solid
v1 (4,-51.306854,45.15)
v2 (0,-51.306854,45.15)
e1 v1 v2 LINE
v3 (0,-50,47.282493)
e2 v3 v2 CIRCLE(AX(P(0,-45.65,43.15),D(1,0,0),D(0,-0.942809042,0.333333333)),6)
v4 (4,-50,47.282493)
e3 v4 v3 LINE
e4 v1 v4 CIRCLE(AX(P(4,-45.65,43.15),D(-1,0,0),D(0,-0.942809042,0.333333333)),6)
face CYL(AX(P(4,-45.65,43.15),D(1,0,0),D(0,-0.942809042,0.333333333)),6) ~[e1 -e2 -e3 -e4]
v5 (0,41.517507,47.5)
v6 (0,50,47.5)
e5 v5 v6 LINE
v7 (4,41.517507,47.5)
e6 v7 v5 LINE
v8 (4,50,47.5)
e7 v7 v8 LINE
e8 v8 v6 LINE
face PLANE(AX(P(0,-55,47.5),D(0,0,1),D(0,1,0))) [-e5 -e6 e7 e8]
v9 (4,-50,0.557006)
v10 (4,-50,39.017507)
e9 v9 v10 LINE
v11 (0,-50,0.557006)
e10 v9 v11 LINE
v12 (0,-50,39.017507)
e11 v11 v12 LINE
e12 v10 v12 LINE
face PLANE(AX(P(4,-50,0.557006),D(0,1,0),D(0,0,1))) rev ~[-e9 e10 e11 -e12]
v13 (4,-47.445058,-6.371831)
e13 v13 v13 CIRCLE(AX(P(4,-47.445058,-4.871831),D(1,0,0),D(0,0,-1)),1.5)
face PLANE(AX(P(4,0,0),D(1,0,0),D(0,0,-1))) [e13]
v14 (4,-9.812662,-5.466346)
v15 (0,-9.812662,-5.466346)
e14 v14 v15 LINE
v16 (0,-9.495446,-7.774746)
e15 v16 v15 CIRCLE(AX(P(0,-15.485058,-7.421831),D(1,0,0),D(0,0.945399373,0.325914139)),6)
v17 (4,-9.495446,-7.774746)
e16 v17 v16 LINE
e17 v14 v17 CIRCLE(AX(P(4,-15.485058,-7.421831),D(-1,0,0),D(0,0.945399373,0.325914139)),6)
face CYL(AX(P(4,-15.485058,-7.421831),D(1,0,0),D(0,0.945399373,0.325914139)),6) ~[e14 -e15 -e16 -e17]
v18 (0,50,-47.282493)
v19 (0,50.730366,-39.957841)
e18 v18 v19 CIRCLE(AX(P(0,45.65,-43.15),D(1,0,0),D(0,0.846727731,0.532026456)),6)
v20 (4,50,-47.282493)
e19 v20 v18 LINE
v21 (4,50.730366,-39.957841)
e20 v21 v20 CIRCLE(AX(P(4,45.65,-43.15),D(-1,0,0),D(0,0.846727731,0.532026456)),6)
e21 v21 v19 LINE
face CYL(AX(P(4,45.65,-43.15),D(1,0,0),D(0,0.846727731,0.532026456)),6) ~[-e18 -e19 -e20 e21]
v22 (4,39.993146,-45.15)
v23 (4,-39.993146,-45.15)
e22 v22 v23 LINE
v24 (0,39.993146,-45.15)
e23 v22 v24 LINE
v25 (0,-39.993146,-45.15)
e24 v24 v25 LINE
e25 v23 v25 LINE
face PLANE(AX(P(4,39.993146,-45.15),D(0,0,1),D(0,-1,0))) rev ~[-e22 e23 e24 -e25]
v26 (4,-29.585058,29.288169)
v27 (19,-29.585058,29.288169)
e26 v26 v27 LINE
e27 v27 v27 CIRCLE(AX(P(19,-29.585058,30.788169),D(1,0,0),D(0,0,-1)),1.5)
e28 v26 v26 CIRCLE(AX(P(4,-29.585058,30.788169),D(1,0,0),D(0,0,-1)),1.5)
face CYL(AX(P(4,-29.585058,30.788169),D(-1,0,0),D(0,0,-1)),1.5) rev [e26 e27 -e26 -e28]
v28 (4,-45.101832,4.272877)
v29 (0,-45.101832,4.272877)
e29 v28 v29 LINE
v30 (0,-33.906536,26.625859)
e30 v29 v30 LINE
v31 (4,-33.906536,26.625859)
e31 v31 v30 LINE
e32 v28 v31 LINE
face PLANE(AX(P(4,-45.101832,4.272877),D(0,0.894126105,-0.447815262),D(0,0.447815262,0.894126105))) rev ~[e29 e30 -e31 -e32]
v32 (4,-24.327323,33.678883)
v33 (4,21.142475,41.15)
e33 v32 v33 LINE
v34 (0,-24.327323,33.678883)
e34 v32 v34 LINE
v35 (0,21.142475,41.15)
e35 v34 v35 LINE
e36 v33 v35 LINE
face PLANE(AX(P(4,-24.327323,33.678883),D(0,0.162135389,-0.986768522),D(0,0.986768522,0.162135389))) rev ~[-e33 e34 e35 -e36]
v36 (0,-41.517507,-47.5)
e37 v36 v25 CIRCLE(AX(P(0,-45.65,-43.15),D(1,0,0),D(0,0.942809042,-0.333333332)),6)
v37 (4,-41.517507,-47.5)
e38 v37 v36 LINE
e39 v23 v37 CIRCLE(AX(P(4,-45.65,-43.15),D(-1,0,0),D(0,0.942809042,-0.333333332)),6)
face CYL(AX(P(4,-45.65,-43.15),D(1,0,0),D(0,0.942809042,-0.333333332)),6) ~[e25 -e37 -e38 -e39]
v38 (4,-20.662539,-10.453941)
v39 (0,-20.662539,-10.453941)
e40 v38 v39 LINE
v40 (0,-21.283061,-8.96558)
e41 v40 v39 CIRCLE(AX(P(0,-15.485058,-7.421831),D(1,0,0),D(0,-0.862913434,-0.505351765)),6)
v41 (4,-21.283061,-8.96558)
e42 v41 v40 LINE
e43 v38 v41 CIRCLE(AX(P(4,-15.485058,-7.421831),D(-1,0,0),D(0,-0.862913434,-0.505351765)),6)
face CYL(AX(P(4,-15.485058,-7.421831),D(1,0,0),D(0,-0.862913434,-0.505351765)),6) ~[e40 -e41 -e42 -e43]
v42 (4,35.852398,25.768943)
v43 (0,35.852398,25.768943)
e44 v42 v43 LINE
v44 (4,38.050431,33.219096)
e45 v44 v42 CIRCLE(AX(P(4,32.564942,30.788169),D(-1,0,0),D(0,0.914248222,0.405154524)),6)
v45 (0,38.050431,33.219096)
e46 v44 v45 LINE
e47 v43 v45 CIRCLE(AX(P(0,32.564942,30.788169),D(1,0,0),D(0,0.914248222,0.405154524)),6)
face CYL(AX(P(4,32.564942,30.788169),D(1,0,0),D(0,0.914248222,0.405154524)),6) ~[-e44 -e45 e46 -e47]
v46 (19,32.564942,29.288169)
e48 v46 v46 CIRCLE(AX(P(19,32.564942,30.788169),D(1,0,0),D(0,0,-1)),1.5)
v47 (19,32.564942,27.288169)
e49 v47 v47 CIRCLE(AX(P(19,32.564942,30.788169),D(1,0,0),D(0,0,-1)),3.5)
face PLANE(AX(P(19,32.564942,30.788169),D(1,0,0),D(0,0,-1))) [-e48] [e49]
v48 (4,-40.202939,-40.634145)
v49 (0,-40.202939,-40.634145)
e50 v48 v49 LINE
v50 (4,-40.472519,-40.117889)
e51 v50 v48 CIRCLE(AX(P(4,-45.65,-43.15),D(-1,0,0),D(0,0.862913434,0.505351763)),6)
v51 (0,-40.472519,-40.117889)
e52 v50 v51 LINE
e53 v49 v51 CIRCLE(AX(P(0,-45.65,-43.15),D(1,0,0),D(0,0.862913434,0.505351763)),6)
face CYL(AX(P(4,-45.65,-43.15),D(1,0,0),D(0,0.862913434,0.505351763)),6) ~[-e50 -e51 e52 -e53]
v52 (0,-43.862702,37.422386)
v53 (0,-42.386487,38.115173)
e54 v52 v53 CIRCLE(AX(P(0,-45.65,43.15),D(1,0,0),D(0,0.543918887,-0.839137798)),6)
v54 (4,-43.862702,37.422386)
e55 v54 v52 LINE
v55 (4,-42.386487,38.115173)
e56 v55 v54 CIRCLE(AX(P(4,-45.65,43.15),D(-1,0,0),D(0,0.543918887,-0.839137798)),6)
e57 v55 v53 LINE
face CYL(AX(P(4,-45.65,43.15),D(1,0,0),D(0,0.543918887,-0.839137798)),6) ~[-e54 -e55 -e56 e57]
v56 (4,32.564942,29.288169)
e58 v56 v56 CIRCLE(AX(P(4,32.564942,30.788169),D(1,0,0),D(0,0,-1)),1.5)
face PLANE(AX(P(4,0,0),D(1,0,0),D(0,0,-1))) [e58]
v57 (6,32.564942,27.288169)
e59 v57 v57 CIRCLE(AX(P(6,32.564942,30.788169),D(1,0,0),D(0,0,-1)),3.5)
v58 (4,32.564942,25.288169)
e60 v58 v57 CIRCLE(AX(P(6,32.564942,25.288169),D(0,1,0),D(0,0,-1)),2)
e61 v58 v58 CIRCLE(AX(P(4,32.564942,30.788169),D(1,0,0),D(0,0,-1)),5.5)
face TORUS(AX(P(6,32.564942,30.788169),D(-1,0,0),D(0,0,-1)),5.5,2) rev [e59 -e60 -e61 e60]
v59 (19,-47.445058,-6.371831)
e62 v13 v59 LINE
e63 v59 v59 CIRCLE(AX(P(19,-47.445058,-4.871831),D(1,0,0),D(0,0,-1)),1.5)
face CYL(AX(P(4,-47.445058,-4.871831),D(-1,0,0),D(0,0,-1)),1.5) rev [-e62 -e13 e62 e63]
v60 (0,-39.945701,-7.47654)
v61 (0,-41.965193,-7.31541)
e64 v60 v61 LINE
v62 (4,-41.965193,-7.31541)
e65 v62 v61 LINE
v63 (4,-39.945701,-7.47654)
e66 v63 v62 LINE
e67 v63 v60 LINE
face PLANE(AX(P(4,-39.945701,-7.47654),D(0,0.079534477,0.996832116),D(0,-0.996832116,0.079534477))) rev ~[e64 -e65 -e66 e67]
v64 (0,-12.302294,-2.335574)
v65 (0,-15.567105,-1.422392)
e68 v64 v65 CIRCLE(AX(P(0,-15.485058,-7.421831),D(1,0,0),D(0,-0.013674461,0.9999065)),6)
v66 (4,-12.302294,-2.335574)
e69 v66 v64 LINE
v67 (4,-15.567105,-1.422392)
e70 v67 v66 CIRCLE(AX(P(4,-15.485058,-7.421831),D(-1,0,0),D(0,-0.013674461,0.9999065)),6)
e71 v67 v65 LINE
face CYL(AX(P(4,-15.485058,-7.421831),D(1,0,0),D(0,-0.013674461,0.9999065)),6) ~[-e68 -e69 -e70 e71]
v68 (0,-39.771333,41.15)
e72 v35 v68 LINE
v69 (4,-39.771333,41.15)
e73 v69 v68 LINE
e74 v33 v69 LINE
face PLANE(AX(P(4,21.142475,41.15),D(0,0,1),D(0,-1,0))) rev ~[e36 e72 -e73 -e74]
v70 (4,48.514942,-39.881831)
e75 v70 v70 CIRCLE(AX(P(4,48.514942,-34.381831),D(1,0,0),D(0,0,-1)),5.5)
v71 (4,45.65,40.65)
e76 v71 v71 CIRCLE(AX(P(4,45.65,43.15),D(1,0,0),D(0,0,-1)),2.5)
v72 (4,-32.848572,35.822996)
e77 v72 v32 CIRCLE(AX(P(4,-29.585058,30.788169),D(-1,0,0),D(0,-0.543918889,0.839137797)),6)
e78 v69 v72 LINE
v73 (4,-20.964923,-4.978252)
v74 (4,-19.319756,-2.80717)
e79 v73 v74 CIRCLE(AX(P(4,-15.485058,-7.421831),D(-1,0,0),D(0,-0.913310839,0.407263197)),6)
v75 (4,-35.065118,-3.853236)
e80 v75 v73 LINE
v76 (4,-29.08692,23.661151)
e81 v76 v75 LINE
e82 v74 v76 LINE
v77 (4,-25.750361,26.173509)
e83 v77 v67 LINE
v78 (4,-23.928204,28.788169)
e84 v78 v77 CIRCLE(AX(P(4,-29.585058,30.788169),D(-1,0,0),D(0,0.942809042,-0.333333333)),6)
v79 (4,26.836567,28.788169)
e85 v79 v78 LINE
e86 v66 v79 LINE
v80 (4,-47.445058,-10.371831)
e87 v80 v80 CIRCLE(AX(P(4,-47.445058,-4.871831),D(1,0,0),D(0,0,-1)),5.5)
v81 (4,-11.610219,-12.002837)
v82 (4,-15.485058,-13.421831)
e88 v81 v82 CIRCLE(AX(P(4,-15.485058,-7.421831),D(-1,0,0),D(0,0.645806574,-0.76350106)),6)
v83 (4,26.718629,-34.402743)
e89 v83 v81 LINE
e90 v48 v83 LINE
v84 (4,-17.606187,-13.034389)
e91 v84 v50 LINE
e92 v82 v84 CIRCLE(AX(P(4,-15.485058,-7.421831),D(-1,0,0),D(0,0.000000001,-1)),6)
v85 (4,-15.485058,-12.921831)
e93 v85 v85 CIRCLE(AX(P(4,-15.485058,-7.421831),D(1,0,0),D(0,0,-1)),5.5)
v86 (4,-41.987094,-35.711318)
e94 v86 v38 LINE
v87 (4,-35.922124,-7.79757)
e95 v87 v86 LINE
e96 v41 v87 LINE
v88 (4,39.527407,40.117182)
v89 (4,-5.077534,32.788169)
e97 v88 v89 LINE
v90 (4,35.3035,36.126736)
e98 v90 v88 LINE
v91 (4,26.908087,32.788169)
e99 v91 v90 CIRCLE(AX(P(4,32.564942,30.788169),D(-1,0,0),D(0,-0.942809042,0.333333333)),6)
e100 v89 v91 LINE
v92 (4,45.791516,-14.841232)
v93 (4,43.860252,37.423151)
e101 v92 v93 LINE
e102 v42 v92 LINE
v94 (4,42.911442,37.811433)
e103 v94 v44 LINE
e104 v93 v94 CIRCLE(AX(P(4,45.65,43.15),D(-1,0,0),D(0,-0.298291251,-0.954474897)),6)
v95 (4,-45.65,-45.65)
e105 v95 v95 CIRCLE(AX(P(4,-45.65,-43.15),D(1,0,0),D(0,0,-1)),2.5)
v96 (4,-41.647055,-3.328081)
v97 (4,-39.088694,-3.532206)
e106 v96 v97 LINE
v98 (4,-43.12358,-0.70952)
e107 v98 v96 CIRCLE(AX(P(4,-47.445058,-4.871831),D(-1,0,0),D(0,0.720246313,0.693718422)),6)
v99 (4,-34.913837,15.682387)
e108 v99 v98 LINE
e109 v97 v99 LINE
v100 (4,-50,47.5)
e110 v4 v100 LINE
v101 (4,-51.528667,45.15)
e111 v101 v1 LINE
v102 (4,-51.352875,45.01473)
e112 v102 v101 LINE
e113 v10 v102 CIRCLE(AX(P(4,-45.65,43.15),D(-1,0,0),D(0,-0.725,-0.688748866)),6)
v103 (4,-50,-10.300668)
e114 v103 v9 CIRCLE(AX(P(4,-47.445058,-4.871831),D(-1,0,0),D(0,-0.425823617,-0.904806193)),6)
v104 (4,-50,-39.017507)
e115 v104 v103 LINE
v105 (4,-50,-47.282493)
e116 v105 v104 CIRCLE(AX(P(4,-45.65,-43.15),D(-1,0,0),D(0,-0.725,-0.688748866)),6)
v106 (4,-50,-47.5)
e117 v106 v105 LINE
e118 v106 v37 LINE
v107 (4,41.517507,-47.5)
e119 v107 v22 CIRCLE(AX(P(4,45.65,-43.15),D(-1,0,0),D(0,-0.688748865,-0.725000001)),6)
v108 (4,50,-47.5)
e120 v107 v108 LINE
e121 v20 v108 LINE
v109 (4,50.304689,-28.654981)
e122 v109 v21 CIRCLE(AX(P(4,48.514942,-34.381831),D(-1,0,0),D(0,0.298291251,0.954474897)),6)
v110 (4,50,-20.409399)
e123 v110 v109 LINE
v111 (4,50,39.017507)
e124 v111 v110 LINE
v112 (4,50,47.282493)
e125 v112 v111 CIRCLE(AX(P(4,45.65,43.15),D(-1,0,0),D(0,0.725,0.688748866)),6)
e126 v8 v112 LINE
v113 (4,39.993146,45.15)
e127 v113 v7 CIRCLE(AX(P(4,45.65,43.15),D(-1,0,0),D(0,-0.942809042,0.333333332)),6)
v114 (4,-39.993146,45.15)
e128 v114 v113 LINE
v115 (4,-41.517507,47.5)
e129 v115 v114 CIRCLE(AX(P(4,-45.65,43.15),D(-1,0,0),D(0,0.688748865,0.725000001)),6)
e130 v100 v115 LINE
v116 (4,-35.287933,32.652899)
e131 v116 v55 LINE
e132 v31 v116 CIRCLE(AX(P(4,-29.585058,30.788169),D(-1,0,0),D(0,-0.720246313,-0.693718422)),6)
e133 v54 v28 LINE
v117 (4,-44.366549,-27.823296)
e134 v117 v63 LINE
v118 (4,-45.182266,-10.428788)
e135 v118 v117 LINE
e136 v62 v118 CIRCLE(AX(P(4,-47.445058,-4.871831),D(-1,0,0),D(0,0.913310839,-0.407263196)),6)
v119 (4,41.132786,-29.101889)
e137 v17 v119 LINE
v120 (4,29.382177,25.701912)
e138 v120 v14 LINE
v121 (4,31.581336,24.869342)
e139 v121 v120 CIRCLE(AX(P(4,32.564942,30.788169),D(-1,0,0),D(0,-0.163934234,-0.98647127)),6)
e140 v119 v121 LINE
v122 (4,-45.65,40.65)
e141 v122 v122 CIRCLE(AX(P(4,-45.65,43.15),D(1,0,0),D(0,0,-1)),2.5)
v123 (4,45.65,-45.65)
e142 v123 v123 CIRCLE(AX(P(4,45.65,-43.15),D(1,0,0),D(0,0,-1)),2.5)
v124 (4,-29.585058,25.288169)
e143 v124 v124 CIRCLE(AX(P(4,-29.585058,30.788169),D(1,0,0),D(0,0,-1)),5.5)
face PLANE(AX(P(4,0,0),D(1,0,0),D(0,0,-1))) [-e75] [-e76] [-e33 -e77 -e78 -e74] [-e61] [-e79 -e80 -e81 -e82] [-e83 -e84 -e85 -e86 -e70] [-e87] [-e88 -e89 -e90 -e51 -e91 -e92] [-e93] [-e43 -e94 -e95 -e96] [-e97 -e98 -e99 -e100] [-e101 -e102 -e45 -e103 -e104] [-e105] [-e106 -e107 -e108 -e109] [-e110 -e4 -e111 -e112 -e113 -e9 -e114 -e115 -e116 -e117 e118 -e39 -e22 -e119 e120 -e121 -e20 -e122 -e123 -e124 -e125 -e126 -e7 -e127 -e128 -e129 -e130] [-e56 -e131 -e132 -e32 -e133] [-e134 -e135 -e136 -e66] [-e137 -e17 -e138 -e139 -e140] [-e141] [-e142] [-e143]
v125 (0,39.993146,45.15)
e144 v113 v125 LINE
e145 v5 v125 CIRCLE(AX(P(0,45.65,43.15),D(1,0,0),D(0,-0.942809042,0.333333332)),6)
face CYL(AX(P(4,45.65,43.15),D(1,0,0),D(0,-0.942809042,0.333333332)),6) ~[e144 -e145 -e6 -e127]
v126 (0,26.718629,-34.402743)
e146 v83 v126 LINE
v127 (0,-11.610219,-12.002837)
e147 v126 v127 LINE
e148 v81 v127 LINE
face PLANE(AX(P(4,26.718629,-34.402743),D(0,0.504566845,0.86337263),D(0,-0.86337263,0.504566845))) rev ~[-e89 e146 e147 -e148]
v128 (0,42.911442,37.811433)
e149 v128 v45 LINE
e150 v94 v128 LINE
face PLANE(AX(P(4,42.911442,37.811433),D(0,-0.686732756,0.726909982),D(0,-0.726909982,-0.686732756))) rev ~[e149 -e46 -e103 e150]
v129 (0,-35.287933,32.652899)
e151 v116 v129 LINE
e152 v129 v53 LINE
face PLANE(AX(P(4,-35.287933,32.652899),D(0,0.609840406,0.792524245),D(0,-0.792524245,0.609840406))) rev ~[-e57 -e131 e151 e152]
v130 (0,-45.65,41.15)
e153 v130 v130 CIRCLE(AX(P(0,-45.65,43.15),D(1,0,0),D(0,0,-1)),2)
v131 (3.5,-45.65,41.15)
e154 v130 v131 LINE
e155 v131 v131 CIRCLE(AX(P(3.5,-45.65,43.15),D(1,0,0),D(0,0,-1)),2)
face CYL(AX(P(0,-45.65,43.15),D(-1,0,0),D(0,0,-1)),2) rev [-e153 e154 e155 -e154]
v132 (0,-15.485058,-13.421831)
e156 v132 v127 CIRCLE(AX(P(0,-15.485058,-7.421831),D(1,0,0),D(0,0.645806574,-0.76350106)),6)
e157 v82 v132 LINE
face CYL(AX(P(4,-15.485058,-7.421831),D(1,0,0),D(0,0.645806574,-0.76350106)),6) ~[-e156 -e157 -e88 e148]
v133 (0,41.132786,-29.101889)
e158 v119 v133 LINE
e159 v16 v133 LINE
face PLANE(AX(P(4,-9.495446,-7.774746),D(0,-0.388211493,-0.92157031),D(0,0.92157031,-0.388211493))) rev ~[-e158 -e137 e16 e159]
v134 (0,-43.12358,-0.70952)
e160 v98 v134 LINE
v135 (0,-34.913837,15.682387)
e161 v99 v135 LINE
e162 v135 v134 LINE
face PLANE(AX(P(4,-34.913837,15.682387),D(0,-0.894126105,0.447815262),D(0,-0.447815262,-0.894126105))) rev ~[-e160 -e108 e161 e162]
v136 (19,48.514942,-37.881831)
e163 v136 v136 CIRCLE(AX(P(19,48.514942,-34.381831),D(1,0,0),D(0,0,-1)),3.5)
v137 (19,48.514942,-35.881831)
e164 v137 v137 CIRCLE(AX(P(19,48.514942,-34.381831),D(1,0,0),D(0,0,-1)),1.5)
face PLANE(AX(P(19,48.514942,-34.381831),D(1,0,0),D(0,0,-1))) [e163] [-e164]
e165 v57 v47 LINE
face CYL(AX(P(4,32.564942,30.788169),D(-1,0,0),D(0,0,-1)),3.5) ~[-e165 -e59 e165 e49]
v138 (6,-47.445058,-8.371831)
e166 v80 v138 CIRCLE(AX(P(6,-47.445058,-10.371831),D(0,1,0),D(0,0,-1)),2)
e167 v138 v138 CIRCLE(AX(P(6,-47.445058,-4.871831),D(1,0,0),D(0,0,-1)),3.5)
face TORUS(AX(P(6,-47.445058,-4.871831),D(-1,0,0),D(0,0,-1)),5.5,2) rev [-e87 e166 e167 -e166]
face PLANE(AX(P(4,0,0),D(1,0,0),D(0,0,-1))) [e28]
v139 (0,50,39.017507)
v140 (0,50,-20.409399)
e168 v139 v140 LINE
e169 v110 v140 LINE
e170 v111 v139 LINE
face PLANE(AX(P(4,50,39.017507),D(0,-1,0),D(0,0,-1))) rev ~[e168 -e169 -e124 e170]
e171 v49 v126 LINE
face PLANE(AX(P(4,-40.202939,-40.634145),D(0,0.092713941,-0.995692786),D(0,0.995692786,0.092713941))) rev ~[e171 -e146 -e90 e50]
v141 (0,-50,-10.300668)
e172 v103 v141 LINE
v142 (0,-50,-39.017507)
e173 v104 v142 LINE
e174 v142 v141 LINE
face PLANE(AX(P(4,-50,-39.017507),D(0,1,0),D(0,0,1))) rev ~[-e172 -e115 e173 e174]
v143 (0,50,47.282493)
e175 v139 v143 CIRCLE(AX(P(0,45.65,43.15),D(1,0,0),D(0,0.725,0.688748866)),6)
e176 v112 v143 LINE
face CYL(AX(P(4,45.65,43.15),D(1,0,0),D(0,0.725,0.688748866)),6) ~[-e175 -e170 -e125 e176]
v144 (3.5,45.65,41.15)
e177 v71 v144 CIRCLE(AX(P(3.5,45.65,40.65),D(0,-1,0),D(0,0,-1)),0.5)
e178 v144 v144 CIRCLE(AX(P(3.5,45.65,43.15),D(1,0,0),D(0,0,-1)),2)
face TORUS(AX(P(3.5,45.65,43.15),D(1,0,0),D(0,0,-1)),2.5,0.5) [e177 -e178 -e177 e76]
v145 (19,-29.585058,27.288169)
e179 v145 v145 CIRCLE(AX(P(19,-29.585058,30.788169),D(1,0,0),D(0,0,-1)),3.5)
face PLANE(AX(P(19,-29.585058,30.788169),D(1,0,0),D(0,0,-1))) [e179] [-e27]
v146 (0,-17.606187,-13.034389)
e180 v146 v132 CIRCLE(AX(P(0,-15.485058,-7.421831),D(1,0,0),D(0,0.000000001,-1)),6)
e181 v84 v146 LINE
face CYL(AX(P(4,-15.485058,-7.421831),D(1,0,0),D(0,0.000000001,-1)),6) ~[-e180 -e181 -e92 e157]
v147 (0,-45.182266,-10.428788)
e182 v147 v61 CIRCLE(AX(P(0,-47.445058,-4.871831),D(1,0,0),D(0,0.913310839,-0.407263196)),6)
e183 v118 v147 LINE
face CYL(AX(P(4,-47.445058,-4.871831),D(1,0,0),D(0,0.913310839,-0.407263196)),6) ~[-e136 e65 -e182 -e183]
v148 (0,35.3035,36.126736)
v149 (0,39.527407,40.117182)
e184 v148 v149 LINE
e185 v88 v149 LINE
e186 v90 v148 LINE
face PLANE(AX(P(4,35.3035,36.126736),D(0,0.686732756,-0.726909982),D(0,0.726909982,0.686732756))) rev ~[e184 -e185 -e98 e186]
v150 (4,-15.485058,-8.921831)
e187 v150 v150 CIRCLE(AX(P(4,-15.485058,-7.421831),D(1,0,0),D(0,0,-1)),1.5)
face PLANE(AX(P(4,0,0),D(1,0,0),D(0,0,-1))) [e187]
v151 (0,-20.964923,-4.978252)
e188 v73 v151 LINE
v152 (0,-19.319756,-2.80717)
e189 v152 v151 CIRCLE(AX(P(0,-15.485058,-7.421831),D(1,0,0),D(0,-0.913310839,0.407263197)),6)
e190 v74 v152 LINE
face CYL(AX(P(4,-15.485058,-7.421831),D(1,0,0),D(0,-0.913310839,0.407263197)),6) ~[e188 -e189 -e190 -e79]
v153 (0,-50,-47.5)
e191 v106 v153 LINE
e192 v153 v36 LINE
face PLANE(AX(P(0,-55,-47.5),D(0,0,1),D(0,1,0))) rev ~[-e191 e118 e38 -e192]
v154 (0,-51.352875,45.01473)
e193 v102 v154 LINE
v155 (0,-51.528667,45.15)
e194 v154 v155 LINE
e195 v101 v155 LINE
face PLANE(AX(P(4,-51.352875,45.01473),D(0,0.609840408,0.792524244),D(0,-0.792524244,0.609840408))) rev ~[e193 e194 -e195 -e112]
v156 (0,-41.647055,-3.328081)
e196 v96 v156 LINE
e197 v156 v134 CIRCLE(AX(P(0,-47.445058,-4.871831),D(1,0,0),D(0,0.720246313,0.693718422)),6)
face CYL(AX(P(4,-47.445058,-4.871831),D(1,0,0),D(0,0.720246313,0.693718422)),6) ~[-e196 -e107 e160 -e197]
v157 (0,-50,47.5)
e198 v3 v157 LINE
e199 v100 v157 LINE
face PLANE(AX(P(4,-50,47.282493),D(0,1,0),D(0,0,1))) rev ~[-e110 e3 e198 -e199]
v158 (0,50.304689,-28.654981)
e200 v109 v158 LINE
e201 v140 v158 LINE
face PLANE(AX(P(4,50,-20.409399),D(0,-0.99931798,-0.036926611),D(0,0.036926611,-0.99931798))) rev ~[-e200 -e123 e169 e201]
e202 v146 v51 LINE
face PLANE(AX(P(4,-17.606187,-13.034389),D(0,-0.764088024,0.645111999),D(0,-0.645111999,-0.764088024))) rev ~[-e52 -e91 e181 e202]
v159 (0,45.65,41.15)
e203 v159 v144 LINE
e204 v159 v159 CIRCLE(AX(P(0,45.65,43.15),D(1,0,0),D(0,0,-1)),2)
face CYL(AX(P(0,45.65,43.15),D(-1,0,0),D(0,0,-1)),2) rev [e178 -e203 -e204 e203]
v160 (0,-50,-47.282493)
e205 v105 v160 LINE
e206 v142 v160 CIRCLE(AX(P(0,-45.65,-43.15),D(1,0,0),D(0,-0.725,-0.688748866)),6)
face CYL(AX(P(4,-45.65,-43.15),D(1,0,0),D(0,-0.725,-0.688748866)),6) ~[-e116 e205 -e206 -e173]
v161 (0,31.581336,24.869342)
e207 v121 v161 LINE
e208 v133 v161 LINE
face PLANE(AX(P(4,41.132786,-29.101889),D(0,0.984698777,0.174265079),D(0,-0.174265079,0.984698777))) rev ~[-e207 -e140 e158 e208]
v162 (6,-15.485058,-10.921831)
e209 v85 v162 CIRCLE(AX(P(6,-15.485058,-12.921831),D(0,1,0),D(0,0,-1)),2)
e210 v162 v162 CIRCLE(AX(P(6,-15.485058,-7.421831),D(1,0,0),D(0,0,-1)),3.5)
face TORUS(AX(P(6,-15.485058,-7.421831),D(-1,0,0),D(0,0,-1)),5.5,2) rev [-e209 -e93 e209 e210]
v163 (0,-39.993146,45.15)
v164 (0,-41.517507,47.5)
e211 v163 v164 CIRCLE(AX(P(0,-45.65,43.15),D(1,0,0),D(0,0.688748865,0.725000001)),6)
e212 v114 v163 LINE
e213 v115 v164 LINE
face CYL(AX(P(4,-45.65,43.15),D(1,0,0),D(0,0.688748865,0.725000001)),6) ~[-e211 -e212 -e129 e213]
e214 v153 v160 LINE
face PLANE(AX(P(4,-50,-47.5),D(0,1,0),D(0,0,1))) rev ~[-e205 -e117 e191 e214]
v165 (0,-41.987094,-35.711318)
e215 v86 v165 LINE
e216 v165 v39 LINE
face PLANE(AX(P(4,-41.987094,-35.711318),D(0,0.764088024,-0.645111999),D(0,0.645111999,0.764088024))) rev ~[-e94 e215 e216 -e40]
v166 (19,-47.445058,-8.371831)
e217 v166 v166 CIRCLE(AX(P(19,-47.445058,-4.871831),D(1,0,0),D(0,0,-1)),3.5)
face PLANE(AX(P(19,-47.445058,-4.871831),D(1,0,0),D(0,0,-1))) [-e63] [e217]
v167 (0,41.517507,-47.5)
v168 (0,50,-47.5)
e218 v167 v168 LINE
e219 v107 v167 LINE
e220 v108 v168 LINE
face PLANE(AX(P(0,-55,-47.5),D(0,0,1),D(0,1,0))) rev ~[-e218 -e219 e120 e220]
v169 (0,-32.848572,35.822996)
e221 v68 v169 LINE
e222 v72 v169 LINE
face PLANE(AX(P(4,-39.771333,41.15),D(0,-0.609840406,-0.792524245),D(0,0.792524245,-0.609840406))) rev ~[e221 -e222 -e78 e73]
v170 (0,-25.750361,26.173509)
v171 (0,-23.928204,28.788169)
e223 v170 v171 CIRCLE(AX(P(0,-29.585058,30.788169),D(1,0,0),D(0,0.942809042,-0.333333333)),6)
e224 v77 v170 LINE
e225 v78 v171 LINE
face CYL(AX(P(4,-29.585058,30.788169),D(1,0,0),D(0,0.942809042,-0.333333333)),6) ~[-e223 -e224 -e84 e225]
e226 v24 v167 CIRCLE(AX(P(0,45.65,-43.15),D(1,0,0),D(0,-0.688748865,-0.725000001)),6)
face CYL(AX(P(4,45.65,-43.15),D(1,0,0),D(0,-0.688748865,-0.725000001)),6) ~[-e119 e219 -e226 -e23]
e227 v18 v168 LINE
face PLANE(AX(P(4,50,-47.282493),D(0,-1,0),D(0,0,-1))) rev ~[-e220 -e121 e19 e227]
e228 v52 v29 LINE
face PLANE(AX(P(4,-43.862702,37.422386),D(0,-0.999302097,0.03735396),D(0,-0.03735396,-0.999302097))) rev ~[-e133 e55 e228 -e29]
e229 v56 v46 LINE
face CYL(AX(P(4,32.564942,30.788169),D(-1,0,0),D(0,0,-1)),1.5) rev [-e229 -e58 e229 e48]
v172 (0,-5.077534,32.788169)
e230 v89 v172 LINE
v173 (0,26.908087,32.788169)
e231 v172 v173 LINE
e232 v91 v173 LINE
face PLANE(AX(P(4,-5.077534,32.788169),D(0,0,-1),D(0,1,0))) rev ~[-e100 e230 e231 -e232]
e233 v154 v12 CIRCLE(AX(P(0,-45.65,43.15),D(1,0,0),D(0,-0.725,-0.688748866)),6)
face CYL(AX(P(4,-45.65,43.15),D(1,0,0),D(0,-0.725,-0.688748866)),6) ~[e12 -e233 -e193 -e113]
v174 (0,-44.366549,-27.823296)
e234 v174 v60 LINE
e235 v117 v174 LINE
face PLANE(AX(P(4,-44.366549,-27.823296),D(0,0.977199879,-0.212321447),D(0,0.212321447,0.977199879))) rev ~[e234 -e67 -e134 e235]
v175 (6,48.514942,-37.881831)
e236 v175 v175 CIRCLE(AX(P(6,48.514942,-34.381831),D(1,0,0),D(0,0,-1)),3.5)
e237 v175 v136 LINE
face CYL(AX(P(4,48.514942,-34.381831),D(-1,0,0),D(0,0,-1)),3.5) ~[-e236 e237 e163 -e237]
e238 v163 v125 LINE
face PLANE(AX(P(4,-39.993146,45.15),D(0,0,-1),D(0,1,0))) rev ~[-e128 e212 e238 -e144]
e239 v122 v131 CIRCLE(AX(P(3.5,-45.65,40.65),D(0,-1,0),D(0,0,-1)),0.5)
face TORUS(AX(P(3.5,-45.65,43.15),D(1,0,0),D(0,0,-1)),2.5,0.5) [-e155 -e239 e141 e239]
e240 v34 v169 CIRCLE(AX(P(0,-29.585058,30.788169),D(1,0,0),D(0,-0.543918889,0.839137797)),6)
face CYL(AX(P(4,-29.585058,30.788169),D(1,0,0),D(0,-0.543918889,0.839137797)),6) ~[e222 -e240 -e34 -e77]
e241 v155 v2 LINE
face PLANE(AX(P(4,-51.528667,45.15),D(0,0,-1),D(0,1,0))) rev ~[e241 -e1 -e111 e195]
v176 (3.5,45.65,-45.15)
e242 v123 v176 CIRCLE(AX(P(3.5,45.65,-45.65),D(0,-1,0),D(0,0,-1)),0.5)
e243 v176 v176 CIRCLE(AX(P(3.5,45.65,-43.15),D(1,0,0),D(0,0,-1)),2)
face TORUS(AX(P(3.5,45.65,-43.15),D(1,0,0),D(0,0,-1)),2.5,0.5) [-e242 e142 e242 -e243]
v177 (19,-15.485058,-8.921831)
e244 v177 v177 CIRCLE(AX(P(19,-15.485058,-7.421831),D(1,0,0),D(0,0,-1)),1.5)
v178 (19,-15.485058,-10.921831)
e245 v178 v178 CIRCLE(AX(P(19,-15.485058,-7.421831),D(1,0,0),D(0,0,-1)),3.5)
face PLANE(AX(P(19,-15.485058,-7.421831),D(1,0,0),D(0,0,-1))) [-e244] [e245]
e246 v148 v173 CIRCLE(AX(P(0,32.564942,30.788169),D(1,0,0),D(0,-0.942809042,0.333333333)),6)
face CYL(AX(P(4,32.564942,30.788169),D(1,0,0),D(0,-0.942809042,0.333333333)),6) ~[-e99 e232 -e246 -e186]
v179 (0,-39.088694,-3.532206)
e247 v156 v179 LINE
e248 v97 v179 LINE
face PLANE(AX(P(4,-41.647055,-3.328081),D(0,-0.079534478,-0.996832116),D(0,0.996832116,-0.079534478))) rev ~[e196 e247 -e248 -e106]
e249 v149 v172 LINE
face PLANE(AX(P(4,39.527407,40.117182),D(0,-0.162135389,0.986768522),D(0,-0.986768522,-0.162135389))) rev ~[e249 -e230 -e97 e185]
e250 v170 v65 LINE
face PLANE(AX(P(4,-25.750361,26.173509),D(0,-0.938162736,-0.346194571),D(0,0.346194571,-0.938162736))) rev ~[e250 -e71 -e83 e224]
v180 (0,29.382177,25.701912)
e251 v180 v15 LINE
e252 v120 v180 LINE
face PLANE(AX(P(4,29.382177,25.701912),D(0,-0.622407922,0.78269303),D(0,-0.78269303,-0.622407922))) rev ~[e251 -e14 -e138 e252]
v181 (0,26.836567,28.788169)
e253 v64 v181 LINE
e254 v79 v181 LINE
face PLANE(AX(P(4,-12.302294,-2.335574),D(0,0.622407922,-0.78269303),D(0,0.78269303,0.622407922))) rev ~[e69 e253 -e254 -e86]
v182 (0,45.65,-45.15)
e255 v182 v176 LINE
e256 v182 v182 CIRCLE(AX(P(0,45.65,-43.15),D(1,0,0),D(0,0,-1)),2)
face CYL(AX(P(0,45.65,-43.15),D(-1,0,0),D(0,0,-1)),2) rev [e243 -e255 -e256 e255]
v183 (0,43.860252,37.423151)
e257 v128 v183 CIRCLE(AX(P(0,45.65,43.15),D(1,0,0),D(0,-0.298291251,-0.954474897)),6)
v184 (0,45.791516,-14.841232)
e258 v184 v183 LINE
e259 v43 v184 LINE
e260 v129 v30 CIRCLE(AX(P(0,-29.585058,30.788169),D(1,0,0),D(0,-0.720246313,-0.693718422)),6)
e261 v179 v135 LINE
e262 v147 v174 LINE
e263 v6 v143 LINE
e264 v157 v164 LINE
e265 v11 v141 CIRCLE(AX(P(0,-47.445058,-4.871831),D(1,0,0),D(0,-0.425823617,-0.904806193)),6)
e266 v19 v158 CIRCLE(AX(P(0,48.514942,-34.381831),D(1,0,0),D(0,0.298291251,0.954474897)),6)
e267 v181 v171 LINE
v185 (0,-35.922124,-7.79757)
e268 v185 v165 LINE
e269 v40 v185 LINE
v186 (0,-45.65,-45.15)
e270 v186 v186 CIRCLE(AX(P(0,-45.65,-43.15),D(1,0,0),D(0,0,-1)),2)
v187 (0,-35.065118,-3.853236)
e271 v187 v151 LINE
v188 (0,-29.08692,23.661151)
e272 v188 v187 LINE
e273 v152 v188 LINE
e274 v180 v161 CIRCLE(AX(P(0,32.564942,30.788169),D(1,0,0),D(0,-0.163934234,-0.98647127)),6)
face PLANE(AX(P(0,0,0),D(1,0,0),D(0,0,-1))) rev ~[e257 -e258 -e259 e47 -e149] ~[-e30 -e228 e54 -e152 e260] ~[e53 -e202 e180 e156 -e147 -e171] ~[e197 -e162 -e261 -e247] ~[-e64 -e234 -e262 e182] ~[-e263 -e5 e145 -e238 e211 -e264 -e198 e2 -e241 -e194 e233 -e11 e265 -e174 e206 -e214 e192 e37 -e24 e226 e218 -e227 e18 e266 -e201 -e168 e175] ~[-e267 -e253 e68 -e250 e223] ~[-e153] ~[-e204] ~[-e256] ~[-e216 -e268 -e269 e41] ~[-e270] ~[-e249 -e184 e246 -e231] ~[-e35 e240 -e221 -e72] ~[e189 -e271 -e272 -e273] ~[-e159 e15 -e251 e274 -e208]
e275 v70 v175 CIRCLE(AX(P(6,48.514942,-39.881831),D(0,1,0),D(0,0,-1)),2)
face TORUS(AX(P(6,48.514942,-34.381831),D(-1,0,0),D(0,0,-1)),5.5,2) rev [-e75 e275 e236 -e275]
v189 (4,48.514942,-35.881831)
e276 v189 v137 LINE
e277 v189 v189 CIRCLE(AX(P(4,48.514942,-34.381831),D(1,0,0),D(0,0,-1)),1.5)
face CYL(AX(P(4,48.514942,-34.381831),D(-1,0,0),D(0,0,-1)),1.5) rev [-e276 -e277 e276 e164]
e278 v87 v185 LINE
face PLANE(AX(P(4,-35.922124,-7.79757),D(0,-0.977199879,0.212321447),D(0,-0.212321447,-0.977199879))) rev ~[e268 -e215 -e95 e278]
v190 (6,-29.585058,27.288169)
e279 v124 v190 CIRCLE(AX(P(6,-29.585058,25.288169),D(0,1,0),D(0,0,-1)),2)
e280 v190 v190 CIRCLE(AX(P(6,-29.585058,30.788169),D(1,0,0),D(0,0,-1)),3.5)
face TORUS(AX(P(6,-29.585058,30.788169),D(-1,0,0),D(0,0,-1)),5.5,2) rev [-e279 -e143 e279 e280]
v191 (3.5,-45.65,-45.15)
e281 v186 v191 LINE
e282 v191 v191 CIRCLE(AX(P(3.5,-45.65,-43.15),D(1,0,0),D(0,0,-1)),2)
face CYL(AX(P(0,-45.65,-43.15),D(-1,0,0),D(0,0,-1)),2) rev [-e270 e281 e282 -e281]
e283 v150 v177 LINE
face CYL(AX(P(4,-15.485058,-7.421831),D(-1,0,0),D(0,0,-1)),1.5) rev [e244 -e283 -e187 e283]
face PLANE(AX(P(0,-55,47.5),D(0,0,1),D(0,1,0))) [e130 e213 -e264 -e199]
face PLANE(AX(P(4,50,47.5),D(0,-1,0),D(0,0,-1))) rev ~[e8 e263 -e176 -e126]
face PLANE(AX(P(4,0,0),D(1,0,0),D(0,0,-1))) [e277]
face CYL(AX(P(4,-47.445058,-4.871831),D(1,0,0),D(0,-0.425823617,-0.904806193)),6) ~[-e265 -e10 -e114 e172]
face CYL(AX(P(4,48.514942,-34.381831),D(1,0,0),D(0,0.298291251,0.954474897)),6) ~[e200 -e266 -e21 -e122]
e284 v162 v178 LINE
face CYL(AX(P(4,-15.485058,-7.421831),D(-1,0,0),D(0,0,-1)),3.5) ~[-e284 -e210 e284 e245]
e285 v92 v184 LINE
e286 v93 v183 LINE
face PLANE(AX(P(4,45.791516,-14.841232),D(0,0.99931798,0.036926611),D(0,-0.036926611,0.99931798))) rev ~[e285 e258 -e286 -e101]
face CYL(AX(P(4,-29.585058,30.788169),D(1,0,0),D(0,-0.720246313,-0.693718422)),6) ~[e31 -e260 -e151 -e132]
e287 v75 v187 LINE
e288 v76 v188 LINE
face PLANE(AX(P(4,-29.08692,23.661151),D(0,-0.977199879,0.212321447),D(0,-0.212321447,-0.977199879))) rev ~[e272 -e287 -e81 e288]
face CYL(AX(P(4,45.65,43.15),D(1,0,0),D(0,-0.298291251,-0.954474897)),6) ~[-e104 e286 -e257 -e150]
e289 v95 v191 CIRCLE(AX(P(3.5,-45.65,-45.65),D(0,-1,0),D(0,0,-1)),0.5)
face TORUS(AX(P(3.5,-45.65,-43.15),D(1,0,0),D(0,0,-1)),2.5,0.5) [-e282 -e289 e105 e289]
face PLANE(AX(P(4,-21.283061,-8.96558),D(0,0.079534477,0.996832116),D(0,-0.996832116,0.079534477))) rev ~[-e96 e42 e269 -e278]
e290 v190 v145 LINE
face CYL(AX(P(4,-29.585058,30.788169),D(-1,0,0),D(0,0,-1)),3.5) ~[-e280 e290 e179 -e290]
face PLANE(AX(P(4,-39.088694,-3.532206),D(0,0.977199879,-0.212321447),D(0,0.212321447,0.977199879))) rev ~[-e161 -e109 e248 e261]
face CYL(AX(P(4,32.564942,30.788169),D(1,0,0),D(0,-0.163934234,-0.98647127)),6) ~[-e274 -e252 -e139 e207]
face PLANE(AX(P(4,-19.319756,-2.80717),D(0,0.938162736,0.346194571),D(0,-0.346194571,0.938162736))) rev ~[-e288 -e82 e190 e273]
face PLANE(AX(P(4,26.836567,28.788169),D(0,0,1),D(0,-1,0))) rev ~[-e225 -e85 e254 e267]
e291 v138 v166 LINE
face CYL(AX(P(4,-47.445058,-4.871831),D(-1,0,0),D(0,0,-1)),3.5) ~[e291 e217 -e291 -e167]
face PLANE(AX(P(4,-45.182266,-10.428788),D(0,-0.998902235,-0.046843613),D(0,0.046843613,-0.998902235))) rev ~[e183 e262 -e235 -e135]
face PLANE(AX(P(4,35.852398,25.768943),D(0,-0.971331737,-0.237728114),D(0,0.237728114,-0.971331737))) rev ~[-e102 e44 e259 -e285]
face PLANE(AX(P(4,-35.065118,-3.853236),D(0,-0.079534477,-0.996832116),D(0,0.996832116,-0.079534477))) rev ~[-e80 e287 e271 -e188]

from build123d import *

# Parameters (mm, degrees)
SKETCH1_W           = 95
SKETCH1_H           = 110
SKETCH1_R           = 2
BOSS_EXTRUDE1_DEPTH = 4
SKETCH2_R           = 3.5
SKETCH2_R_2         = 1.5
BOSS_EXTRUDE2_DEPTH = 15
CUT_EXTRUDE1_DEPTH  = 75.204110398
FILLET1_R           = 2
FILLET2_R           = 0.5


with BuildPart() as part:
    # Sketch1 → Boss-Extrude1 (new body)
    with BuildSketch(Plane(origin=(0, 0, 0), x_dir=(0, 0, -1), z_dir=(1, 0, 0))):
        Rectangle(SKETCH1_W, SKETCH1_H)
        with Locations((-43.15, 45.65)):
            Circle(SKETCH1_R, mode=Mode.SUBTRACT)
        with Locations((43.15, 45.65)):
            Circle(SKETCH1_R, mode=Mode.SUBTRACT)
        with Locations((43.15, -45.65)):
            Circle(SKETCH1_R, mode=Mode.SUBTRACT)
        with Locations((-43.15, -45.65)):
            Circle(SKETCH1_R, mode=Mode.SUBTRACT)
    extrude(amount=BOSS_EXTRUDE1_DEPTH)

    # Sketch2 → Boss-Extrude2 (add)
    # profile 1 of 5: a face of its own
    with BuildSketch(Plane(origin=(4, 0, 0), x_dir=(0, 0, -1), z_dir=(1, 0, 0))):
        with Locations((4.871830735, -47.445058297)):
            Circle(SKETCH2_R)
        with Locations((4.871830735, -47.445058297)):
            Circle(SKETCH2_R_2, mode=Mode.SUBTRACT)
    # profile 2 of 5: a face of its own
    with BuildSketch(Plane(origin=(4, 0, 0), x_dir=(0, 0, -1), z_dir=(1, 0, 0))):
        with Locations((-30.788169265, -29.585058297)):
            Circle(SKETCH2_R)
        with Locations((-30.788169265, -29.585058297)):
            Circle(SKETCH2_R_2, mode=Mode.SUBTRACT)
    # profile 3 of 5: a face of its own
    with BuildSketch(Plane(origin=(4, 0, 0), x_dir=(0, 0, -1), z_dir=(1, 0, 0))):
        with Locations((7.421830735, -15.485058297)):
            Circle(SKETCH2_R)
        with Locations((7.421830735, -15.485058297)):
            Circle(SKETCH2_R_2, mode=Mode.SUBTRACT)
    # profile 4 of 5: a face of its own
    with BuildSketch(Plane(origin=(4, 0, 0), x_dir=(0, 0, -1), z_dir=(1, 0, 0))):
        with Locations((-30.788169265, 32.564941703)):
            Circle(SKETCH2_R)
        with Locations((-30.788169265, 32.564941703)):
            Circle(SKETCH2_R_2, mode=Mode.SUBTRACT)
    # profile 5 of 5: a face of its own
    with BuildSketch(Plane(origin=(4, 0, 0), x_dir=(0, 0, -1), z_dir=(1, 0, 0))):
        with Locations((34.381830735, 48.514941703)):
            Circle(SKETCH2_R)
        with Locations((34.381830735, 48.514941703)):
            Circle(SKETCH2_R_2, mode=Mode.SUBTRACT)
    extrude(amount=BOSS_EXTRUDE2_DEPTH)

    # Sketch3 → Cut-Extrude1 (cut, through all)
    with BuildSketch(Plane(origin=(4, 0, 0), x_dir=(0, 0, -1), z_dir=(1, 0, 0))):
        with BuildLine():
            Line((-47.282493194, -50), (-47.5, -50))
            Line((-47.5, -50), (-47.5, -55))
            Line((-47.5, -55), (47.5, -55))
            Line((47.5, -55), (47.5, -50))
            Line((47.5, -50), (47.282493194, -50))
            ThreePointArc((47.282493194, -50), (43.15, -51.65), (39.017506806, -50))
            Line((39.017506806, -50), (10.300667894, -50))
            ThreePointArc((10.300667894, -50), (4.871830735, -53.445058297), (-0.557006424, -50))
            Line((-0.557006424, -50), (-39.017506806, -50))
            ThreePointArc((-39.017506806, -50), (-41.829676039, -51.50292616), (-45.014729802, -51.352874956))
            Line((-45.014729802, -51.352874956), (-45.15, -51.528666704))
            Line((-45.15, -51.528666704), (-45.15, -51.306854249))
            ThreePointArc((-45.15, -51.306854249), (-46.285097319, -50.76577607), (-47.282493194, -50))
        make_face()
        with BuildLine():
            Line((-47.5, 50), (-47.282493194, 50))
            ThreePointArc((-47.282493194, 50), (-43.15, 51.65), (-39.017506806, 50))
            Line((-39.017506806, 50), (20.409399266, 50))
            Line((20.409399266, 50), (28.65498135, 50.304689206))
            ThreePointArc((28.65498135, 50.304689206), (34.156024722, 54.510691167), (39.957841268, 50.730366387))
            ThreePointArc((39.957841268, 50.730366387), (43.745328472, 51.620392283), (47.282493194, 50))
            Line((47.282493194, 50), (47.5, 50))
            Line((47.5, 50), (47.5, 55))
            Line((47.5, 55), (-47.5, 55))
            Line((-47.5, 55), (-47.5, 50))
        make_face()
        with BuildLine():
            Line((-25.768943429, 35.852398471), (14.841232242, 45.791516193))
            Line((14.841232242, 45.791516193), (-37.423150615, 43.860252496))
            ThreePointArc((-37.423150615, 43.860252496), (-37.59698993, 43.377538963), (-37.811432926, 42.911441694))
            Line((-37.811432926, 42.911441694), (-33.219096413, 38.050431034))
            ThreePointArc((-33.219096413, 38.050431034), (-29.090329664, 38.319708482), (-25.768943429, 35.852398471))
        make_face()
        with BuildLine():
            ThreePointArc((-24.869341644, 31.5813363), (-25.176837259, 30.440570475), (-25.701912307, 29.382177157))
            Line((-25.701912307, 29.382177157), (5.466345895, -9.812662063))
            ThreePointArc((5.466345895, -9.812662063), (6.604999175, -9.540919487), (7.774745949, -9.495446386))
            Line((7.774745949, -9.495446386), (29.101888797, 41.132785893))
            Line((29.101888797, 41.132785893), (-24.869341644, 31.5813363))
        make_face()
        with BuildLine():
            ThreePointArc((40.117889412, -40.472519398), (40.372744436, -40.331461523), (40.634145174, -40.202938912))
            Line((40.634145174, -40.202938912), (34.402742909, 26.718628547))
            Line((34.402742909, 26.718628547), (12.002837097, -11.610218854))
            ThreePointArc((12.002837097, -11.610218854), (13.05592508, -13.421813059), (13.421830735, -15.485058297))
            ThreePointArc((13.421830735, -15.485058297), (13.324175672, -16.563169724), (13.034389319, -17.606186803))
            Line((13.034389319, -17.606186803), (40.117889412, -40.472519398))
        make_face()
        with BuildLine():
            Line((-33.678882573, -24.327323369), (-41.15, 21.142475339))
            Line((-41.15, 21.142475339), (-41.15, -39.771333296))
            Line((-41.15, -39.771333296), (-35.822996048, -32.848571629))
            ThreePointArc((-35.822996048, -32.848571629), (-36.606800067, -28.120976472), (-33.678882573, -24.327323369))
        make_face()
        with BuildLine():
            Line((-32.652899068, -35.287933253), (-38.115173217, -42.386486668))
            ThreePointArc((-38.115173217, -42.386486668), (-37.718394632, -43.100948584), (-37.422385765, -43.86270171))
            Line((-37.422385765, -43.86270171), (-4.272877469, -45.101831893))
            Line((-4.272877469, -45.101831893), (-26.625858733, -33.906536173))
            ThreePointArc((-26.625858733, -33.906536173), (-29.44772763, -35.433409879), (-32.652899068, -35.287933253))
        make_face()
        with BuildLine():
            Line((2.807170019, -19.319756001), (-23.6611506, -29.08691959))
            Line((-23.6611506, -29.08691959), (3.853236056, -35.065117617))
            Line((3.853236056, -35.065117617), (4.978251557, -20.964923333))
            ThreePointArc((4.978251557, -20.964923333), (3.798112826, -20.267177965), (2.807170019, -19.319756001))
        make_face()
        with BuildLine():
            Line((8.96558002, -21.283061242), (7.797569686, -35.922124092))
            Line((7.797569686, -35.922124092), (35.711318156, -41.987093598))
            Line((35.711318156, -41.987093598), (10.453941322, -20.662538899))
            ThreePointArc((10.453941322, -20.662538899), (9.730701755, -21.023028558), (8.96558002, -21.283061242))
        make_face()
        with BuildLine():
            Line((-28.788169265, 26.836566577), (-28.788169265, -23.928204048))
            ThreePointArc((-28.788169265, -23.928204048), (-27.357644857, -24.662507913), (-26.17350855, -25.750360593))
            Line((-26.17350855, -25.750360593), (1.422391734, -15.567105058))
            ThreePointArc((1.422391734, -15.567105058), (1.64360333, -13.868862747), (2.335573777, -12.302293752))
            Line((2.335573777, -12.302293752), (-28.788169265, 26.836566577))
        make_face()
        with BuildLine():
            Line((-40.117182266, 39.52740654), (-32.788169265, -5.077533636))
            Line((-32.788169265, -5.077533636), (-32.788169265, 26.908087453))
            ThreePointArc((-32.788169265, 26.908087453), (-36.363505997, 30.347821875), (-36.126736339, 35.303500008))
            Line((-36.126736339, 35.303500008), (-40.117182266, 39.52740654))
        make_face()
        with BuildLine():
            Line((10.428787864, -45.182266336), (27.823296257, -44.366549251))
            Line((27.823296257, -44.366549251), (7.476539649, -39.945700561))
            Line((7.476539649, -39.945700561), (7.315409912, -41.965193262))
            ThreePointArc((7.315409912, -41.965193262), (9.183389048, -43.272473378), (10.428787864, -45.182266336))
        make_face()
        with BuildLine():
            Line((-15.682387069, -34.913836622), (0.709520202, -43.123580421))
            ThreePointArc((0.709520202, -43.123580421), (1.924830356, -42.218664821), (3.328081449, -41.647055353))
            Line((3.328081449, -41.647055353), (3.532206019, -39.088694086))
            Line((3.532206019, -39.088694086), (-15.682387069, -34.913836622))
        make_face()
        with BuildLine():
            Line((-47.5, 41.517506806), (-47.5, -41.517506806))
            ThreePointArc((-47.5, -41.517506806), (-46.415202009, -40.616268199), (-45.15, -39.993145751))
            Line((-45.15, -39.993145751), (-45.15, 39.993145751))
            ThreePointArc((-45.15, 39.993145751), (-46.415202009, 40.616268199), (-47.5, 41.517506806))
        make_face()
        with BuildLine():
            ThreePointArc((45.15, -39.993145751), (46.415202009, -40.616268199), (47.5, -41.517506806))
            Line((47.5, -41.517506806), (47.5, 41.517506806))
            ThreePointArc((47.5, 41.517506806), (46.415202009, 40.616268199), (45.15, 39.993145751))
            Line((45.15, 39.993145751), (45.15, -39.993145751))
        make_face()
    extrude(amount=-CUT_EXTRUDE1_DEPTH, mode=Mode.SUBTRACT)

    # Fillet1
    fillet1_edges = [part.edges().sort_by_distance(p)[0] for p in [
        (4, -47.445058297, -1.371830735),
        (4, -29.585058297, 34.288169265),
        (4, -15.485058297, -3.921830735),
        (4, 32.564941703, 34.288169265),
        (4, 48.514941703, -30.881830735),
    ]]
    fillet(fillet1_edges, radius=FILLET1_R)

    # Fillet2
    fillet2_edges = [part.edges().sort_by_distance(p)[0] for p in [
        (4, 45.65, 45.15),
        (4, 45.65, -41.15),
        (4, -45.65, 45.15),
        (4, -45.65, -41.15),
    ]]
    fillet(fillet2_edges, radius=FILLET2_R)


solid = part.part
